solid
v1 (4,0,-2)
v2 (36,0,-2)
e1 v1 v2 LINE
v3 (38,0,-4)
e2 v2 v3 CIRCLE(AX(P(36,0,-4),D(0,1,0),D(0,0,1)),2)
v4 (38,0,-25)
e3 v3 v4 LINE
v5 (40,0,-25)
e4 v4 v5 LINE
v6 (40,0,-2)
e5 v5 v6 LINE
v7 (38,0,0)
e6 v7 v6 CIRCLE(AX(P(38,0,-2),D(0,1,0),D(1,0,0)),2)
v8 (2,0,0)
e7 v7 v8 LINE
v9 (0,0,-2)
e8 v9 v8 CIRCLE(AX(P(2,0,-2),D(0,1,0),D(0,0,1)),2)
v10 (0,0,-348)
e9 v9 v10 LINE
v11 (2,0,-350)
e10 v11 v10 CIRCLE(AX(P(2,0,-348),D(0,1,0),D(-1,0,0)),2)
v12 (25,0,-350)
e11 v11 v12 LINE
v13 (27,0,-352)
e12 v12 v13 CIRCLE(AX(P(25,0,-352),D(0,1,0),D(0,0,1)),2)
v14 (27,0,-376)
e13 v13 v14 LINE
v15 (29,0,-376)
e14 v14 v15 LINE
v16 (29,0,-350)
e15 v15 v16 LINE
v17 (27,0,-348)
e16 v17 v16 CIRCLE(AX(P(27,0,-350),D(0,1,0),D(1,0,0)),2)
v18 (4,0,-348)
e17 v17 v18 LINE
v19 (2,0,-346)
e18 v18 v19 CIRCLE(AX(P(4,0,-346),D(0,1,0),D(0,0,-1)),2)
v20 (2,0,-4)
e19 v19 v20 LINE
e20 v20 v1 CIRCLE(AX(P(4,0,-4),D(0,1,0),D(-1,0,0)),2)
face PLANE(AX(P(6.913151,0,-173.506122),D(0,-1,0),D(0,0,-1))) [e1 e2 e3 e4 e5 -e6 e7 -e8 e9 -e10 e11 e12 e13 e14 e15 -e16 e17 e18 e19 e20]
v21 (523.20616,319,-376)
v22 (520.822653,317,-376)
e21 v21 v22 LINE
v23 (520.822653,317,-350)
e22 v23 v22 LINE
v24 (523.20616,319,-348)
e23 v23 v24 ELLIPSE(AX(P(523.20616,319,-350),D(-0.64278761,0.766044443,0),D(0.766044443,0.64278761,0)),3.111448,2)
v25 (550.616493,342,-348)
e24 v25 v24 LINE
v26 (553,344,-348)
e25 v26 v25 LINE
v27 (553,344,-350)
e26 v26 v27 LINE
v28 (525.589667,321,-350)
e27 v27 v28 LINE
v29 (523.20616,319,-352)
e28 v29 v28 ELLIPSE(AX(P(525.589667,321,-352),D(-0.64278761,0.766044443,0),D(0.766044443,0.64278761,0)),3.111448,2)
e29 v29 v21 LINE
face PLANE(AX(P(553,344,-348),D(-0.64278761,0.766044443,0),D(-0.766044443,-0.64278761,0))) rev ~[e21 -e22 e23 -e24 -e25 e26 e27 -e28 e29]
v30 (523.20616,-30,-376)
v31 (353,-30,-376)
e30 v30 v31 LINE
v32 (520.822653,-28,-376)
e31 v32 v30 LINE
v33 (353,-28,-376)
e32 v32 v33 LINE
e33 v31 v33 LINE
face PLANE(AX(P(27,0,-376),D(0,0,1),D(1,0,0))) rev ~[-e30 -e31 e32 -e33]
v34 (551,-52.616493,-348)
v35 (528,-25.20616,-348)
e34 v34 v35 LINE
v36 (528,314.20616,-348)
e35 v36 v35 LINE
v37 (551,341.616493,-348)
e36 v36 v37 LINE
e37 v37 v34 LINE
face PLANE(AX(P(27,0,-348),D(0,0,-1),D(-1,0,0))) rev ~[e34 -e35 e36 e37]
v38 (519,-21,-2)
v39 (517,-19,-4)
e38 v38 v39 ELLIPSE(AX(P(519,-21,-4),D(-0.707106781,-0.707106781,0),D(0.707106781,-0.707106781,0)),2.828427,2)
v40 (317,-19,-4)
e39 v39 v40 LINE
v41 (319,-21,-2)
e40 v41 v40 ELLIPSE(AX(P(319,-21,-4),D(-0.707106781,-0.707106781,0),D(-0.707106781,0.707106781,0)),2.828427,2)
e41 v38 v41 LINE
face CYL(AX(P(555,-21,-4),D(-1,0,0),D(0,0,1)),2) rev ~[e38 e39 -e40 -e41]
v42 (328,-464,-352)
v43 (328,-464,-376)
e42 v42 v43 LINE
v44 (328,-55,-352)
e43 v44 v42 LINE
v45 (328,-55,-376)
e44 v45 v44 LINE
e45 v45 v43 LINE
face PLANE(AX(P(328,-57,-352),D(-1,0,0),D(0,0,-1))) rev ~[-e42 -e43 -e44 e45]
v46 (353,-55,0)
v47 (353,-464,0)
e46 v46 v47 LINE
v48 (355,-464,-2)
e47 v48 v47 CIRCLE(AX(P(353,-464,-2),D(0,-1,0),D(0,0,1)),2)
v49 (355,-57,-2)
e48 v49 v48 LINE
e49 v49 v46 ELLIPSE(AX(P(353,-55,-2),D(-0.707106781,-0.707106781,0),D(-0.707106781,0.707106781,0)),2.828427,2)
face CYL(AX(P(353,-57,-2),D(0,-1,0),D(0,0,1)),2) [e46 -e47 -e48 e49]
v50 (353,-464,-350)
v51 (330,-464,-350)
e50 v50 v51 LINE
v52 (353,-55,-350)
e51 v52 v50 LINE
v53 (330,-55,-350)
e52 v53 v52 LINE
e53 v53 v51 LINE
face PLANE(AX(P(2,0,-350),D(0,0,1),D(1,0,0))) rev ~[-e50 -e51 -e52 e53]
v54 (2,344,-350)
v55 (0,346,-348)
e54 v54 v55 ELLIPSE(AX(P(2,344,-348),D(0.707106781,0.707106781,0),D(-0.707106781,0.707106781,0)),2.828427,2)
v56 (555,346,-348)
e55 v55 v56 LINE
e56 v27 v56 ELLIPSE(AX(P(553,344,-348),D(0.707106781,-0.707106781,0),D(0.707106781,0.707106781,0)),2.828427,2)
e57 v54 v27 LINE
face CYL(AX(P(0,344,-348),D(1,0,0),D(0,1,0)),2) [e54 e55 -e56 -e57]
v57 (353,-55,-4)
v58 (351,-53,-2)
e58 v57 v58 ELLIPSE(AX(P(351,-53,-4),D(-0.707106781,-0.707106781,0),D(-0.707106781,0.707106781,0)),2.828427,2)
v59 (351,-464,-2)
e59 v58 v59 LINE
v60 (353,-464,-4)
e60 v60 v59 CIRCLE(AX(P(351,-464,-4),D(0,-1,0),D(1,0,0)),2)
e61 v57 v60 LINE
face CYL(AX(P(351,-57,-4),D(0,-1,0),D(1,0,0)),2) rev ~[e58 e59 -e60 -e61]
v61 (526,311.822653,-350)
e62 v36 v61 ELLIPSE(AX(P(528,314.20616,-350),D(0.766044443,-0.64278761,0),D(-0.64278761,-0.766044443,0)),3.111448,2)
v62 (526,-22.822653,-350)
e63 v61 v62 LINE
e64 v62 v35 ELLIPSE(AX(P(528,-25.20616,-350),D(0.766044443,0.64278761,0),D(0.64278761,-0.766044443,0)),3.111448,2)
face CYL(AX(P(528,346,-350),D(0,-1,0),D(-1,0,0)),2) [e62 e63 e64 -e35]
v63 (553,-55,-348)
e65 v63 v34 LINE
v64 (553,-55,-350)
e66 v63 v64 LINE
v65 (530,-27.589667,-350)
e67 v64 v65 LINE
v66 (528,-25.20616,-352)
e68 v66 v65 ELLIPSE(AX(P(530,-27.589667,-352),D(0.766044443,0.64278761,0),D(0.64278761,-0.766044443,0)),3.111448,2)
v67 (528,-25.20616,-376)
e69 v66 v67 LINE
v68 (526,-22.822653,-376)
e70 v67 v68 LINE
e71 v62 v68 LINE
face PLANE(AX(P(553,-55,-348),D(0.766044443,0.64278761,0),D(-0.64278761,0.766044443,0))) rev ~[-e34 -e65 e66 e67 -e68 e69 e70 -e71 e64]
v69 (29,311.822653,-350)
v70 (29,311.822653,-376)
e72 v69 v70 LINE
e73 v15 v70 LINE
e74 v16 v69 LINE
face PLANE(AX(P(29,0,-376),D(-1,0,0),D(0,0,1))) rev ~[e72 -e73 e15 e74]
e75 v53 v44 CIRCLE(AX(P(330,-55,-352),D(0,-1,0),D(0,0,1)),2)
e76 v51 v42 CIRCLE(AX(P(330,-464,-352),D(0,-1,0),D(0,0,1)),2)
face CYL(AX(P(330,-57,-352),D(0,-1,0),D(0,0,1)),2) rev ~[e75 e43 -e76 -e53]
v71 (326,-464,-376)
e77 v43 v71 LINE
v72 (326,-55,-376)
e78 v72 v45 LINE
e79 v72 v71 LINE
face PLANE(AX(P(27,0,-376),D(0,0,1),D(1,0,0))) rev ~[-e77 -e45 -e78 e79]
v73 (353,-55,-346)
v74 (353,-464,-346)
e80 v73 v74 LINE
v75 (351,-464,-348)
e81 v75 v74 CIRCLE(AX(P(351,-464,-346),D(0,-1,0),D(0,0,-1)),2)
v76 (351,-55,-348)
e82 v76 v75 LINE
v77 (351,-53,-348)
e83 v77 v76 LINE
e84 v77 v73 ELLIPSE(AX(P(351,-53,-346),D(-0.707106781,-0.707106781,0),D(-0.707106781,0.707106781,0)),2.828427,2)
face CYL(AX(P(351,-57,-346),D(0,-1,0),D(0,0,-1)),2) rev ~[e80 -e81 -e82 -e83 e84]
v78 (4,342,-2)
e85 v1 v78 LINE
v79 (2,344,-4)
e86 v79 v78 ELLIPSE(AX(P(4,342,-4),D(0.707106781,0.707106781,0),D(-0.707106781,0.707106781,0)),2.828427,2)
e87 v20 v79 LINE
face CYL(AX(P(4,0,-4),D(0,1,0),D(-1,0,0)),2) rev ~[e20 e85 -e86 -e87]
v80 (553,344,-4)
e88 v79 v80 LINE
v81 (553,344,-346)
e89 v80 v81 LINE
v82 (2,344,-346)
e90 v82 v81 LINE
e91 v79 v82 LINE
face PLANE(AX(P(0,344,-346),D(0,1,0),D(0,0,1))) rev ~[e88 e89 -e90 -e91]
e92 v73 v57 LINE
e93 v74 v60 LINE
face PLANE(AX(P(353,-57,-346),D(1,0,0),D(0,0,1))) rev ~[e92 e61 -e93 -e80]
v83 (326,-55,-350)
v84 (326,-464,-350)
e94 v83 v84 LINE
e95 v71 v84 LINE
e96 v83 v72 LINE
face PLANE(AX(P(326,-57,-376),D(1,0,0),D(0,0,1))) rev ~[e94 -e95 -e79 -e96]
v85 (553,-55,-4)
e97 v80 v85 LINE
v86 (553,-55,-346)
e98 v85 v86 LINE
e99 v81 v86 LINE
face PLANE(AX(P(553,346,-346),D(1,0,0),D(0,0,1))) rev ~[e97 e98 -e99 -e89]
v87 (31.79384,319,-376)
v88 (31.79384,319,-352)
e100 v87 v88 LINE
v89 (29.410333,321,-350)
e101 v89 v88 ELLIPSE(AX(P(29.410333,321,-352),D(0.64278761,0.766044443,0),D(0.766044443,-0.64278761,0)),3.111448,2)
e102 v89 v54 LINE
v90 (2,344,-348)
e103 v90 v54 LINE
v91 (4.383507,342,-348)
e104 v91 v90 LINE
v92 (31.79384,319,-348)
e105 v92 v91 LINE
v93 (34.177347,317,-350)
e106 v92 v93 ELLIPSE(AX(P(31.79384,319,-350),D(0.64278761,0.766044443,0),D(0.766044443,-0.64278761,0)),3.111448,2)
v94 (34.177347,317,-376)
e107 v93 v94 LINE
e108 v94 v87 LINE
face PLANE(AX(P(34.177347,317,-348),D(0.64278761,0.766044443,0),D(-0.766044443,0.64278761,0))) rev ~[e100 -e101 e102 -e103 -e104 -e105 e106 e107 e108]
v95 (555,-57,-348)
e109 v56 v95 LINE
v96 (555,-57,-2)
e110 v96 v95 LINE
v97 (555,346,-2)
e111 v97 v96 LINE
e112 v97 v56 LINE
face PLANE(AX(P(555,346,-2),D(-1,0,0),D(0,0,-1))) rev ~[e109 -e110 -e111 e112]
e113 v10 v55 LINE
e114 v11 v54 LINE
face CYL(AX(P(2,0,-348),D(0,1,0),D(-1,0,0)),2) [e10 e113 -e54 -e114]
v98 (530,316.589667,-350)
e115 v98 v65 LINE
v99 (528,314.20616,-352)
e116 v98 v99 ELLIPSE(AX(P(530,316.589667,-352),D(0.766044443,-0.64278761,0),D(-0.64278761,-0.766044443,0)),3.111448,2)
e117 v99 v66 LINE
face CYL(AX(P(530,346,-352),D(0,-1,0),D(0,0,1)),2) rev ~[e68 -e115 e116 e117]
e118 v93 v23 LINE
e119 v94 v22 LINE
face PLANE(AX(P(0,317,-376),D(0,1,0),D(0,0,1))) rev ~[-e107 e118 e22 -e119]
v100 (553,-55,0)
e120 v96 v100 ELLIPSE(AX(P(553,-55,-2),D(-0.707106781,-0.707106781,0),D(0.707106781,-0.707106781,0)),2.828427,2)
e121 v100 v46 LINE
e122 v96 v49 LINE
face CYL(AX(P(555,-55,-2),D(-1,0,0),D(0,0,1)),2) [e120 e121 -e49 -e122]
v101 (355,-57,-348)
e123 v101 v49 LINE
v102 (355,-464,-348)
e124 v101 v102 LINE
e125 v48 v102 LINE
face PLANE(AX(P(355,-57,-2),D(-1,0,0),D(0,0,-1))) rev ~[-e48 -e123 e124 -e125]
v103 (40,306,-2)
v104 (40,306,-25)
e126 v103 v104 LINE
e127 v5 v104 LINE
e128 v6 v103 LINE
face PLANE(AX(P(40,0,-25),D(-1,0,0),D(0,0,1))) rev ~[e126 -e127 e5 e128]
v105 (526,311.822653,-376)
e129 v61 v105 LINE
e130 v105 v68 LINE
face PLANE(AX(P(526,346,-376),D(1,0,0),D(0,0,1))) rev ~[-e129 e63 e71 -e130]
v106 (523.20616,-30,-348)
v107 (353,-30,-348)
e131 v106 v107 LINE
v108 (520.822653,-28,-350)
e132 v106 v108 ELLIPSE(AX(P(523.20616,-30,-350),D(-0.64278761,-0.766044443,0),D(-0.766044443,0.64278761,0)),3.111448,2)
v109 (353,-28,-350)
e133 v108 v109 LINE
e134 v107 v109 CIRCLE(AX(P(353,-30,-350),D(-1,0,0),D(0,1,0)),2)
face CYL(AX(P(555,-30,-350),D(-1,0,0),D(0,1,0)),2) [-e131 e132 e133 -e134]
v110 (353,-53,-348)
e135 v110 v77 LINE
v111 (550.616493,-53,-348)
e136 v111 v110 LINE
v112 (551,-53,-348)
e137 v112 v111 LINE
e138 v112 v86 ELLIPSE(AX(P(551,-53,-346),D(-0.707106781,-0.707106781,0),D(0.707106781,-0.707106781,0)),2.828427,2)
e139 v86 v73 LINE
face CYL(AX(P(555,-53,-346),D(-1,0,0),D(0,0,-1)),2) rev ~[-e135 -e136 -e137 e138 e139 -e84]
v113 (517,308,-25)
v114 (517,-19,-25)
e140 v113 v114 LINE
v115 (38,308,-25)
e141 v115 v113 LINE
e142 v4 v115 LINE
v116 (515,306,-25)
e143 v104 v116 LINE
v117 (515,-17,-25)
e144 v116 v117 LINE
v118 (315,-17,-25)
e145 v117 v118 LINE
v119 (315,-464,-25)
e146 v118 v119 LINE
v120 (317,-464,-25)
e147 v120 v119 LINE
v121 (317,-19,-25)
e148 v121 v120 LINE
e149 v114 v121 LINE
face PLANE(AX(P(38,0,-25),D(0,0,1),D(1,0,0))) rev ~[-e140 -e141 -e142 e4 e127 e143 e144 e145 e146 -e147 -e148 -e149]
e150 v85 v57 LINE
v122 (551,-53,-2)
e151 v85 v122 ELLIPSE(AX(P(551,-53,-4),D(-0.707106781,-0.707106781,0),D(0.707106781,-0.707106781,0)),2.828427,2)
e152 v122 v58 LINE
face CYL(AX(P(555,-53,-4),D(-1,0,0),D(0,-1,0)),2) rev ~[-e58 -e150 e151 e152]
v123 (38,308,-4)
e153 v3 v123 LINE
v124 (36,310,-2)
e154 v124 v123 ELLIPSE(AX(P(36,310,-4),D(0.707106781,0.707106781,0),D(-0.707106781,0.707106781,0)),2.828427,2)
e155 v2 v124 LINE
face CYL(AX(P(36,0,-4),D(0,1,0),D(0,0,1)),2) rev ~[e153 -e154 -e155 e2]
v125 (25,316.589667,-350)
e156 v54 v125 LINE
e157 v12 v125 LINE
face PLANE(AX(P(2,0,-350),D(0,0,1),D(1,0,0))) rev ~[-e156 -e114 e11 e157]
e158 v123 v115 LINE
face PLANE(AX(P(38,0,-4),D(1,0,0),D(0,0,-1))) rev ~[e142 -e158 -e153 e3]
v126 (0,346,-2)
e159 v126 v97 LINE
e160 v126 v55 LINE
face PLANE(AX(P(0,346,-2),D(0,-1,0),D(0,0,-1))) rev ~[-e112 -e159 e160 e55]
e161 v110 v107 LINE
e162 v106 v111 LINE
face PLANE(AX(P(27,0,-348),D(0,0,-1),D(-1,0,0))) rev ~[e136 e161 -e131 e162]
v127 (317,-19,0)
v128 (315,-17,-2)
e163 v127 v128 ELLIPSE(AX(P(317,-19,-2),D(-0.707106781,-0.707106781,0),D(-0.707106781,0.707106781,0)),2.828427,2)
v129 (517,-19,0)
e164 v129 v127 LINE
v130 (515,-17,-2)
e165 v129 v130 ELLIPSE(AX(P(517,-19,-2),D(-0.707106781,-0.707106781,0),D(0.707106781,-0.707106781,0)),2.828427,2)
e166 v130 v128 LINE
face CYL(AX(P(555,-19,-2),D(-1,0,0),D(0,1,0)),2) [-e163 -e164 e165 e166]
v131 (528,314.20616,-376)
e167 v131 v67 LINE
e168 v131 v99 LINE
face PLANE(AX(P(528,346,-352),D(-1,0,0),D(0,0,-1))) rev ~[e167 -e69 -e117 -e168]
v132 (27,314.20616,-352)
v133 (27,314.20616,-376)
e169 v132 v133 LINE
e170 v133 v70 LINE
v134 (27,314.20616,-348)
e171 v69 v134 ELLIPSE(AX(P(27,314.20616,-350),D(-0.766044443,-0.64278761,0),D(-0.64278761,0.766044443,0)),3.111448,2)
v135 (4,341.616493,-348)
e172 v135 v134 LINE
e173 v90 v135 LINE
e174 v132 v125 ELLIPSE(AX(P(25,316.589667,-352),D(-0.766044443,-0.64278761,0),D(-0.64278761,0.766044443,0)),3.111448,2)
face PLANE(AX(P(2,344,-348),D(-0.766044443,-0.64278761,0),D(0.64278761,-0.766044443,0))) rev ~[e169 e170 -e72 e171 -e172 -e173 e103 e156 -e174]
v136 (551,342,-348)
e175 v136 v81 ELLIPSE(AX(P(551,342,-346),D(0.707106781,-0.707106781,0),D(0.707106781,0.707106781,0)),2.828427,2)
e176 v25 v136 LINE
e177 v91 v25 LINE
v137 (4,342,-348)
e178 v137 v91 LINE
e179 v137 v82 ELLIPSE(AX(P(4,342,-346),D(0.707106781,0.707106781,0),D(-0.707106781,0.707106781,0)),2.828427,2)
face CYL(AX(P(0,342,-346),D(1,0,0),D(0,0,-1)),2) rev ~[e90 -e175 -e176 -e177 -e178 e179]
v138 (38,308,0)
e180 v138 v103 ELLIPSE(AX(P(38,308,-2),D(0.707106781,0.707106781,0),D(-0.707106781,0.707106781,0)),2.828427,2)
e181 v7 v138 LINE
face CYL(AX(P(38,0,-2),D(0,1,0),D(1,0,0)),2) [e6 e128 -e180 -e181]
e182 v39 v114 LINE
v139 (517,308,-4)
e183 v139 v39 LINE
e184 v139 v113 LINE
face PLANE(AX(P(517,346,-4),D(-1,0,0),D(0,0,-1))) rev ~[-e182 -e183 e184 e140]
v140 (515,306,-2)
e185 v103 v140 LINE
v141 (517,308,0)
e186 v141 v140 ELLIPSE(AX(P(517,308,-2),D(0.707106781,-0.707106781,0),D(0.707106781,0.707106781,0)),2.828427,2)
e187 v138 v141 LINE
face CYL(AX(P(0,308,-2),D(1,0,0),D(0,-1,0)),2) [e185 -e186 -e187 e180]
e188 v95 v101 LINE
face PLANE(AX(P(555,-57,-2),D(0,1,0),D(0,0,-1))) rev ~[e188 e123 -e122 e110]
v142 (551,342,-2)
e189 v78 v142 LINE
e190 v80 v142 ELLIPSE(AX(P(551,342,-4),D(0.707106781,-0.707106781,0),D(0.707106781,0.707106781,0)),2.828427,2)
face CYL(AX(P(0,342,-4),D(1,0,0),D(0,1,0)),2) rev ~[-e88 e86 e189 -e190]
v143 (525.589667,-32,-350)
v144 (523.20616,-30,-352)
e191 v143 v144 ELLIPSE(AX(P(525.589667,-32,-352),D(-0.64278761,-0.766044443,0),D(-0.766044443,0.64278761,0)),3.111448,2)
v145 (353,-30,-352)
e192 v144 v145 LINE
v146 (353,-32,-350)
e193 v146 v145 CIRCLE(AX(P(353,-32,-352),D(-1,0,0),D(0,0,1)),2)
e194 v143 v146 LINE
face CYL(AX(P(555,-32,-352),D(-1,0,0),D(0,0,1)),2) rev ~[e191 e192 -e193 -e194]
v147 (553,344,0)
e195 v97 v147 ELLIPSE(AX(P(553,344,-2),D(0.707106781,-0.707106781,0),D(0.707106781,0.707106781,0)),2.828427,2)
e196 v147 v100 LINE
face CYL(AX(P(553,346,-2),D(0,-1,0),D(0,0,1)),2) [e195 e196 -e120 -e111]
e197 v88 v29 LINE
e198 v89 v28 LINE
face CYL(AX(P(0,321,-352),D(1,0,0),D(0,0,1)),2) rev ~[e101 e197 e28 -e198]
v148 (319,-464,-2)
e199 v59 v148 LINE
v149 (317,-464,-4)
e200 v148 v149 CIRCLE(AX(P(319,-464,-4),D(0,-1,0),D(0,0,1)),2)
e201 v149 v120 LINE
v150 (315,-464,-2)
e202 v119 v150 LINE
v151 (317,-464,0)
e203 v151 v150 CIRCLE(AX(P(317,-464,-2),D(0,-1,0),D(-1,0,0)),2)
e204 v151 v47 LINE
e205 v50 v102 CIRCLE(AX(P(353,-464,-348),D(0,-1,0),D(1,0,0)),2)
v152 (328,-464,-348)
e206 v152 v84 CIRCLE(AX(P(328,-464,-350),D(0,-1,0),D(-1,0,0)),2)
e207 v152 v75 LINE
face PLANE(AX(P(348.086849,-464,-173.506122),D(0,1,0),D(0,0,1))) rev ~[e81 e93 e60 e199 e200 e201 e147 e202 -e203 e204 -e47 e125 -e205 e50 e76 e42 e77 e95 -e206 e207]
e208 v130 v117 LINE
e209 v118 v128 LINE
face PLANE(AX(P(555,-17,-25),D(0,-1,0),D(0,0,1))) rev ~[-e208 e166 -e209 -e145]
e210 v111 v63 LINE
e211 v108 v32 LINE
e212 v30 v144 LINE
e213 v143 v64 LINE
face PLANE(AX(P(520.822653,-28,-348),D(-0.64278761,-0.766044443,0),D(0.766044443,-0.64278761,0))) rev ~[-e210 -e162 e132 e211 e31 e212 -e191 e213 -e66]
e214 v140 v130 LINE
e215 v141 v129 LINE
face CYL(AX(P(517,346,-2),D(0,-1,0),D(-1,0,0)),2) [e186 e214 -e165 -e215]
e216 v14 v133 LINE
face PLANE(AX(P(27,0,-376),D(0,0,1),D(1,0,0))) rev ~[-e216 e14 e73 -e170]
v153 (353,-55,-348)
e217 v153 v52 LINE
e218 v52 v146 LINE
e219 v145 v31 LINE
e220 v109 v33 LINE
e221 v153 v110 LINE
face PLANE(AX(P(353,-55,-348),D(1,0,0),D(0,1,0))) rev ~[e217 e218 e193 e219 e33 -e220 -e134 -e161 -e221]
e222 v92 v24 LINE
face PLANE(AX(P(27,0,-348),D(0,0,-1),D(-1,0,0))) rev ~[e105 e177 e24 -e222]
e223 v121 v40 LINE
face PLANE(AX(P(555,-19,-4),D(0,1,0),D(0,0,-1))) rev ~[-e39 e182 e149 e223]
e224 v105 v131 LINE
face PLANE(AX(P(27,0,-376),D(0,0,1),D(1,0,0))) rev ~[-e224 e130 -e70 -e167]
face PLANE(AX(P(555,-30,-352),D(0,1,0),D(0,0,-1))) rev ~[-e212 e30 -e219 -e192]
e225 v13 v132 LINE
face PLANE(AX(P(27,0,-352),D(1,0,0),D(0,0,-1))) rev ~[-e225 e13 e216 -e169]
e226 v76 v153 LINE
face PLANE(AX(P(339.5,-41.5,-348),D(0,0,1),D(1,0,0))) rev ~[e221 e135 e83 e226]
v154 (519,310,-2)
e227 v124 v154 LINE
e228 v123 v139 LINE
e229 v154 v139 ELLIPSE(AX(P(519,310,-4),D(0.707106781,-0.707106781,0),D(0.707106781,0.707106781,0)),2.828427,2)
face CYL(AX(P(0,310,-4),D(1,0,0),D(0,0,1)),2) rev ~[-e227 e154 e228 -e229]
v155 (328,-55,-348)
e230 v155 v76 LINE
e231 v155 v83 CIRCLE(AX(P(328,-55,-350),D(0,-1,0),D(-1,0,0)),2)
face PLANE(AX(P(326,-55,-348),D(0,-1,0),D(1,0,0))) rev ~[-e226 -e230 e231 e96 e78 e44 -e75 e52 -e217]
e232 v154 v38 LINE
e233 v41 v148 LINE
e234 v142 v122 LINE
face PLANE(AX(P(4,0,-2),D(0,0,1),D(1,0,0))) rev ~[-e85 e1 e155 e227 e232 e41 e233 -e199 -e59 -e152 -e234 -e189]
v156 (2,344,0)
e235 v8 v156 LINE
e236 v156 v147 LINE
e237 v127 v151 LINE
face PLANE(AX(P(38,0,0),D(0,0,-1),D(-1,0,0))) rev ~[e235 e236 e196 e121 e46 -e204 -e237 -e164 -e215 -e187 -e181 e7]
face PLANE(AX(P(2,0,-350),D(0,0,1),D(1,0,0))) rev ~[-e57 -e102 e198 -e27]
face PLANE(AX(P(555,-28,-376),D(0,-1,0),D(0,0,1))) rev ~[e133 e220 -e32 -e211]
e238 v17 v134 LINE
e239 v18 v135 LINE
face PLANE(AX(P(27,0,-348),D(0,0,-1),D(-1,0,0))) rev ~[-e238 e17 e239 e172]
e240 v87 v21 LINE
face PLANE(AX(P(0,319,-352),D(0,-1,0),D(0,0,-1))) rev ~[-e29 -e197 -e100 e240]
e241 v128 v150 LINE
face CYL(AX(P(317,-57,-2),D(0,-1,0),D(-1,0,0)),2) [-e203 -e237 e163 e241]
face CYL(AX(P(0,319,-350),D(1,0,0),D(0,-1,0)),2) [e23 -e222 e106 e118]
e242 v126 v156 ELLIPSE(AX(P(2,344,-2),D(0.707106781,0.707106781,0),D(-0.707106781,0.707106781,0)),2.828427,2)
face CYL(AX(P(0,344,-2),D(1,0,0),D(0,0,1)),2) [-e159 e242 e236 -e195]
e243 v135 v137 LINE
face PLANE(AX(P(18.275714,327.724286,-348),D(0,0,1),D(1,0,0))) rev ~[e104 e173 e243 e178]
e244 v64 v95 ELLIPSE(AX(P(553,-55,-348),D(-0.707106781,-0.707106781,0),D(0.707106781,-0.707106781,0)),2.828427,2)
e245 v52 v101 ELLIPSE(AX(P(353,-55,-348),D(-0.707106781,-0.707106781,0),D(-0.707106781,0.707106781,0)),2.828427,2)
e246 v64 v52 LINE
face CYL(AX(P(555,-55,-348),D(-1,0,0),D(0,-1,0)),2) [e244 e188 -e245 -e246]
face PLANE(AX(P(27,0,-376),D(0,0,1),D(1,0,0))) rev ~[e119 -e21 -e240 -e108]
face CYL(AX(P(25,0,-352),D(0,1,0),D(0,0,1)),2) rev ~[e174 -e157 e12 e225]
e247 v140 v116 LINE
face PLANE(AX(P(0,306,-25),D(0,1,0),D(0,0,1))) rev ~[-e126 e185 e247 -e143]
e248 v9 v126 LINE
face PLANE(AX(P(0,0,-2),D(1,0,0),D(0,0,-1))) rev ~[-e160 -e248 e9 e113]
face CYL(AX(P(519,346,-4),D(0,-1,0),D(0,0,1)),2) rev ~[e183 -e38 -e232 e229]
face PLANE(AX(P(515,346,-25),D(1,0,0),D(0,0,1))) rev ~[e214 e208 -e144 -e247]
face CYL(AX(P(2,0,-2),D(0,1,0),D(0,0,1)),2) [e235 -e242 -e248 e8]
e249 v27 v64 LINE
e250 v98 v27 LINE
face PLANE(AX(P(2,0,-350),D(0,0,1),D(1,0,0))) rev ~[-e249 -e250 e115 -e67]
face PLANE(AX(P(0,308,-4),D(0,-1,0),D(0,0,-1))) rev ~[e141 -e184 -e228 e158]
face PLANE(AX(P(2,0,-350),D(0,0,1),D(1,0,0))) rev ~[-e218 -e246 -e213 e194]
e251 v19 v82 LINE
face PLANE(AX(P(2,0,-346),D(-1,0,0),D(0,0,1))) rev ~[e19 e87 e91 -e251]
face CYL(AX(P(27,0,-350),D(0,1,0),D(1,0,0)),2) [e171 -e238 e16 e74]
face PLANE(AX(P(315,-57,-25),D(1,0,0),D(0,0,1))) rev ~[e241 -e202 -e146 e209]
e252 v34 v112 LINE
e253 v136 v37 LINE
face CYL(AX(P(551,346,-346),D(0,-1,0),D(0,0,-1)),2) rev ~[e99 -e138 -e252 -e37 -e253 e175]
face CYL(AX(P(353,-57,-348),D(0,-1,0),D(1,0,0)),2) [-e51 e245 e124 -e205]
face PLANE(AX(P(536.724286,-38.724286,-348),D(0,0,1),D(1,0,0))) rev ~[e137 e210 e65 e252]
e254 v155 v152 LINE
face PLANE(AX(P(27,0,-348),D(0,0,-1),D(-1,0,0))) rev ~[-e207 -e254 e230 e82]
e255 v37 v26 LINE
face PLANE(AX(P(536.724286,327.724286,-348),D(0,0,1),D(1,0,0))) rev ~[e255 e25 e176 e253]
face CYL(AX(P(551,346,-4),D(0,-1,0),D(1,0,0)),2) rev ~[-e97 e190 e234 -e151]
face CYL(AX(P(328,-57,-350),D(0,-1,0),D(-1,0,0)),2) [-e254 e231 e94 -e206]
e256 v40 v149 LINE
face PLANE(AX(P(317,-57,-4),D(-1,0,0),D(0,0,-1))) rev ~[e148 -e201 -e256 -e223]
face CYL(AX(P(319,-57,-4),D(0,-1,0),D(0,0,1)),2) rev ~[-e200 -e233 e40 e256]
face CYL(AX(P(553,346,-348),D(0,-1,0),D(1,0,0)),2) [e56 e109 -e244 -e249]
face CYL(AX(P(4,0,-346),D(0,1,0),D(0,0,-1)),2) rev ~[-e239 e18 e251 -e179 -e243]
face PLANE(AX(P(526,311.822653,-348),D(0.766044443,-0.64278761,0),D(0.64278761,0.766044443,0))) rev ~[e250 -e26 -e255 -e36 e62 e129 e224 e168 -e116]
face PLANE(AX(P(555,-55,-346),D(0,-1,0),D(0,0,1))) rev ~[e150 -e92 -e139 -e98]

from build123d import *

# Parameters (mm, degrees)
F3_W     = 27
F3_H     = 27
F4_DEPTH = 40


with BuildPart() as f2:
    # F2: sweep along a path in F1
    with BuildLine(Plane.XY) as f2_path:
        Line((0, 0), (0, 346))
        Line((0, 346), (555, 346))
        Line((555, 346), (555, -57))
        Line((555, -57), (355, -57))
        Line((355, -57), (355, -464))
    # F0 (on Front) → F2 (sweep)
    with BuildSketch(Plane.XZ):
        with BuildLine():
            Line((38, 0), (2, 0))
            ThreePointArc((2, 0), (0.5857864376, -0.5857864376), (0, -2))
            Line((0, -2), (0, -348))
            ThreePointArc((0, -348), (0.5857864376, -349.4142135624), (2, -350))
            Line((2, -350), (25, -350))
            ThreePointArc((25, -350), (26.4142135624, -350.5857864376), (27, -352))
            Line((27, -352), (27, -376))
            Line((27, -376), (29, -376))
            Line((29, -376), (29, -350))
            ThreePointArc((29, -350), (28.4142135624, -348.5857864376), (27, -348))
            Line((27, -348), (4, -348))
            ThreePointArc((4, -348), (2.5857864376, -347.4142135624), (2, -346))
            Line((2, -346), (2, -4))
            ThreePointArc((2, -4), (2.5857864376, -2.5857864376), (4, -2))
            Line((4, -2), (36, -2))
            ThreePointArc((36, -2), (37.4142135624, -2.5857864376), (38, -4))
            Line((38, -4), (38, -25))
            Line((38, -25), (40, -25))
            Line((40, -25), (40, -2))
            ThreePointArc((40, -2), (39.4142135624, -0.5857864376), (38, 0))
        make_face()
    sweep(path=f2_path.line, transition=Transition.RIGHT)

    # F3 (on face) → F4 (cut)
    with BuildSketch(Plane.XY.offset(-348)):
        Polygon((2, 344), (29, 311.822653), (29, 317), (34.177347, 317), align=None)
        Polygon((526, 311.822653), (553, 344), (520.822653, 317), (526, 317), align=None)
        Polygon((520.822653, -28), (553, -55), (526, -22.822653), (526, -28), align=None)
        with Locations((339.5, -41.5)):
            Rectangle(F3_W, F3_H)
    extrude(amount=-F4_DEPTH, mode=Mode.SUBTRACT)


solid = f2.part
